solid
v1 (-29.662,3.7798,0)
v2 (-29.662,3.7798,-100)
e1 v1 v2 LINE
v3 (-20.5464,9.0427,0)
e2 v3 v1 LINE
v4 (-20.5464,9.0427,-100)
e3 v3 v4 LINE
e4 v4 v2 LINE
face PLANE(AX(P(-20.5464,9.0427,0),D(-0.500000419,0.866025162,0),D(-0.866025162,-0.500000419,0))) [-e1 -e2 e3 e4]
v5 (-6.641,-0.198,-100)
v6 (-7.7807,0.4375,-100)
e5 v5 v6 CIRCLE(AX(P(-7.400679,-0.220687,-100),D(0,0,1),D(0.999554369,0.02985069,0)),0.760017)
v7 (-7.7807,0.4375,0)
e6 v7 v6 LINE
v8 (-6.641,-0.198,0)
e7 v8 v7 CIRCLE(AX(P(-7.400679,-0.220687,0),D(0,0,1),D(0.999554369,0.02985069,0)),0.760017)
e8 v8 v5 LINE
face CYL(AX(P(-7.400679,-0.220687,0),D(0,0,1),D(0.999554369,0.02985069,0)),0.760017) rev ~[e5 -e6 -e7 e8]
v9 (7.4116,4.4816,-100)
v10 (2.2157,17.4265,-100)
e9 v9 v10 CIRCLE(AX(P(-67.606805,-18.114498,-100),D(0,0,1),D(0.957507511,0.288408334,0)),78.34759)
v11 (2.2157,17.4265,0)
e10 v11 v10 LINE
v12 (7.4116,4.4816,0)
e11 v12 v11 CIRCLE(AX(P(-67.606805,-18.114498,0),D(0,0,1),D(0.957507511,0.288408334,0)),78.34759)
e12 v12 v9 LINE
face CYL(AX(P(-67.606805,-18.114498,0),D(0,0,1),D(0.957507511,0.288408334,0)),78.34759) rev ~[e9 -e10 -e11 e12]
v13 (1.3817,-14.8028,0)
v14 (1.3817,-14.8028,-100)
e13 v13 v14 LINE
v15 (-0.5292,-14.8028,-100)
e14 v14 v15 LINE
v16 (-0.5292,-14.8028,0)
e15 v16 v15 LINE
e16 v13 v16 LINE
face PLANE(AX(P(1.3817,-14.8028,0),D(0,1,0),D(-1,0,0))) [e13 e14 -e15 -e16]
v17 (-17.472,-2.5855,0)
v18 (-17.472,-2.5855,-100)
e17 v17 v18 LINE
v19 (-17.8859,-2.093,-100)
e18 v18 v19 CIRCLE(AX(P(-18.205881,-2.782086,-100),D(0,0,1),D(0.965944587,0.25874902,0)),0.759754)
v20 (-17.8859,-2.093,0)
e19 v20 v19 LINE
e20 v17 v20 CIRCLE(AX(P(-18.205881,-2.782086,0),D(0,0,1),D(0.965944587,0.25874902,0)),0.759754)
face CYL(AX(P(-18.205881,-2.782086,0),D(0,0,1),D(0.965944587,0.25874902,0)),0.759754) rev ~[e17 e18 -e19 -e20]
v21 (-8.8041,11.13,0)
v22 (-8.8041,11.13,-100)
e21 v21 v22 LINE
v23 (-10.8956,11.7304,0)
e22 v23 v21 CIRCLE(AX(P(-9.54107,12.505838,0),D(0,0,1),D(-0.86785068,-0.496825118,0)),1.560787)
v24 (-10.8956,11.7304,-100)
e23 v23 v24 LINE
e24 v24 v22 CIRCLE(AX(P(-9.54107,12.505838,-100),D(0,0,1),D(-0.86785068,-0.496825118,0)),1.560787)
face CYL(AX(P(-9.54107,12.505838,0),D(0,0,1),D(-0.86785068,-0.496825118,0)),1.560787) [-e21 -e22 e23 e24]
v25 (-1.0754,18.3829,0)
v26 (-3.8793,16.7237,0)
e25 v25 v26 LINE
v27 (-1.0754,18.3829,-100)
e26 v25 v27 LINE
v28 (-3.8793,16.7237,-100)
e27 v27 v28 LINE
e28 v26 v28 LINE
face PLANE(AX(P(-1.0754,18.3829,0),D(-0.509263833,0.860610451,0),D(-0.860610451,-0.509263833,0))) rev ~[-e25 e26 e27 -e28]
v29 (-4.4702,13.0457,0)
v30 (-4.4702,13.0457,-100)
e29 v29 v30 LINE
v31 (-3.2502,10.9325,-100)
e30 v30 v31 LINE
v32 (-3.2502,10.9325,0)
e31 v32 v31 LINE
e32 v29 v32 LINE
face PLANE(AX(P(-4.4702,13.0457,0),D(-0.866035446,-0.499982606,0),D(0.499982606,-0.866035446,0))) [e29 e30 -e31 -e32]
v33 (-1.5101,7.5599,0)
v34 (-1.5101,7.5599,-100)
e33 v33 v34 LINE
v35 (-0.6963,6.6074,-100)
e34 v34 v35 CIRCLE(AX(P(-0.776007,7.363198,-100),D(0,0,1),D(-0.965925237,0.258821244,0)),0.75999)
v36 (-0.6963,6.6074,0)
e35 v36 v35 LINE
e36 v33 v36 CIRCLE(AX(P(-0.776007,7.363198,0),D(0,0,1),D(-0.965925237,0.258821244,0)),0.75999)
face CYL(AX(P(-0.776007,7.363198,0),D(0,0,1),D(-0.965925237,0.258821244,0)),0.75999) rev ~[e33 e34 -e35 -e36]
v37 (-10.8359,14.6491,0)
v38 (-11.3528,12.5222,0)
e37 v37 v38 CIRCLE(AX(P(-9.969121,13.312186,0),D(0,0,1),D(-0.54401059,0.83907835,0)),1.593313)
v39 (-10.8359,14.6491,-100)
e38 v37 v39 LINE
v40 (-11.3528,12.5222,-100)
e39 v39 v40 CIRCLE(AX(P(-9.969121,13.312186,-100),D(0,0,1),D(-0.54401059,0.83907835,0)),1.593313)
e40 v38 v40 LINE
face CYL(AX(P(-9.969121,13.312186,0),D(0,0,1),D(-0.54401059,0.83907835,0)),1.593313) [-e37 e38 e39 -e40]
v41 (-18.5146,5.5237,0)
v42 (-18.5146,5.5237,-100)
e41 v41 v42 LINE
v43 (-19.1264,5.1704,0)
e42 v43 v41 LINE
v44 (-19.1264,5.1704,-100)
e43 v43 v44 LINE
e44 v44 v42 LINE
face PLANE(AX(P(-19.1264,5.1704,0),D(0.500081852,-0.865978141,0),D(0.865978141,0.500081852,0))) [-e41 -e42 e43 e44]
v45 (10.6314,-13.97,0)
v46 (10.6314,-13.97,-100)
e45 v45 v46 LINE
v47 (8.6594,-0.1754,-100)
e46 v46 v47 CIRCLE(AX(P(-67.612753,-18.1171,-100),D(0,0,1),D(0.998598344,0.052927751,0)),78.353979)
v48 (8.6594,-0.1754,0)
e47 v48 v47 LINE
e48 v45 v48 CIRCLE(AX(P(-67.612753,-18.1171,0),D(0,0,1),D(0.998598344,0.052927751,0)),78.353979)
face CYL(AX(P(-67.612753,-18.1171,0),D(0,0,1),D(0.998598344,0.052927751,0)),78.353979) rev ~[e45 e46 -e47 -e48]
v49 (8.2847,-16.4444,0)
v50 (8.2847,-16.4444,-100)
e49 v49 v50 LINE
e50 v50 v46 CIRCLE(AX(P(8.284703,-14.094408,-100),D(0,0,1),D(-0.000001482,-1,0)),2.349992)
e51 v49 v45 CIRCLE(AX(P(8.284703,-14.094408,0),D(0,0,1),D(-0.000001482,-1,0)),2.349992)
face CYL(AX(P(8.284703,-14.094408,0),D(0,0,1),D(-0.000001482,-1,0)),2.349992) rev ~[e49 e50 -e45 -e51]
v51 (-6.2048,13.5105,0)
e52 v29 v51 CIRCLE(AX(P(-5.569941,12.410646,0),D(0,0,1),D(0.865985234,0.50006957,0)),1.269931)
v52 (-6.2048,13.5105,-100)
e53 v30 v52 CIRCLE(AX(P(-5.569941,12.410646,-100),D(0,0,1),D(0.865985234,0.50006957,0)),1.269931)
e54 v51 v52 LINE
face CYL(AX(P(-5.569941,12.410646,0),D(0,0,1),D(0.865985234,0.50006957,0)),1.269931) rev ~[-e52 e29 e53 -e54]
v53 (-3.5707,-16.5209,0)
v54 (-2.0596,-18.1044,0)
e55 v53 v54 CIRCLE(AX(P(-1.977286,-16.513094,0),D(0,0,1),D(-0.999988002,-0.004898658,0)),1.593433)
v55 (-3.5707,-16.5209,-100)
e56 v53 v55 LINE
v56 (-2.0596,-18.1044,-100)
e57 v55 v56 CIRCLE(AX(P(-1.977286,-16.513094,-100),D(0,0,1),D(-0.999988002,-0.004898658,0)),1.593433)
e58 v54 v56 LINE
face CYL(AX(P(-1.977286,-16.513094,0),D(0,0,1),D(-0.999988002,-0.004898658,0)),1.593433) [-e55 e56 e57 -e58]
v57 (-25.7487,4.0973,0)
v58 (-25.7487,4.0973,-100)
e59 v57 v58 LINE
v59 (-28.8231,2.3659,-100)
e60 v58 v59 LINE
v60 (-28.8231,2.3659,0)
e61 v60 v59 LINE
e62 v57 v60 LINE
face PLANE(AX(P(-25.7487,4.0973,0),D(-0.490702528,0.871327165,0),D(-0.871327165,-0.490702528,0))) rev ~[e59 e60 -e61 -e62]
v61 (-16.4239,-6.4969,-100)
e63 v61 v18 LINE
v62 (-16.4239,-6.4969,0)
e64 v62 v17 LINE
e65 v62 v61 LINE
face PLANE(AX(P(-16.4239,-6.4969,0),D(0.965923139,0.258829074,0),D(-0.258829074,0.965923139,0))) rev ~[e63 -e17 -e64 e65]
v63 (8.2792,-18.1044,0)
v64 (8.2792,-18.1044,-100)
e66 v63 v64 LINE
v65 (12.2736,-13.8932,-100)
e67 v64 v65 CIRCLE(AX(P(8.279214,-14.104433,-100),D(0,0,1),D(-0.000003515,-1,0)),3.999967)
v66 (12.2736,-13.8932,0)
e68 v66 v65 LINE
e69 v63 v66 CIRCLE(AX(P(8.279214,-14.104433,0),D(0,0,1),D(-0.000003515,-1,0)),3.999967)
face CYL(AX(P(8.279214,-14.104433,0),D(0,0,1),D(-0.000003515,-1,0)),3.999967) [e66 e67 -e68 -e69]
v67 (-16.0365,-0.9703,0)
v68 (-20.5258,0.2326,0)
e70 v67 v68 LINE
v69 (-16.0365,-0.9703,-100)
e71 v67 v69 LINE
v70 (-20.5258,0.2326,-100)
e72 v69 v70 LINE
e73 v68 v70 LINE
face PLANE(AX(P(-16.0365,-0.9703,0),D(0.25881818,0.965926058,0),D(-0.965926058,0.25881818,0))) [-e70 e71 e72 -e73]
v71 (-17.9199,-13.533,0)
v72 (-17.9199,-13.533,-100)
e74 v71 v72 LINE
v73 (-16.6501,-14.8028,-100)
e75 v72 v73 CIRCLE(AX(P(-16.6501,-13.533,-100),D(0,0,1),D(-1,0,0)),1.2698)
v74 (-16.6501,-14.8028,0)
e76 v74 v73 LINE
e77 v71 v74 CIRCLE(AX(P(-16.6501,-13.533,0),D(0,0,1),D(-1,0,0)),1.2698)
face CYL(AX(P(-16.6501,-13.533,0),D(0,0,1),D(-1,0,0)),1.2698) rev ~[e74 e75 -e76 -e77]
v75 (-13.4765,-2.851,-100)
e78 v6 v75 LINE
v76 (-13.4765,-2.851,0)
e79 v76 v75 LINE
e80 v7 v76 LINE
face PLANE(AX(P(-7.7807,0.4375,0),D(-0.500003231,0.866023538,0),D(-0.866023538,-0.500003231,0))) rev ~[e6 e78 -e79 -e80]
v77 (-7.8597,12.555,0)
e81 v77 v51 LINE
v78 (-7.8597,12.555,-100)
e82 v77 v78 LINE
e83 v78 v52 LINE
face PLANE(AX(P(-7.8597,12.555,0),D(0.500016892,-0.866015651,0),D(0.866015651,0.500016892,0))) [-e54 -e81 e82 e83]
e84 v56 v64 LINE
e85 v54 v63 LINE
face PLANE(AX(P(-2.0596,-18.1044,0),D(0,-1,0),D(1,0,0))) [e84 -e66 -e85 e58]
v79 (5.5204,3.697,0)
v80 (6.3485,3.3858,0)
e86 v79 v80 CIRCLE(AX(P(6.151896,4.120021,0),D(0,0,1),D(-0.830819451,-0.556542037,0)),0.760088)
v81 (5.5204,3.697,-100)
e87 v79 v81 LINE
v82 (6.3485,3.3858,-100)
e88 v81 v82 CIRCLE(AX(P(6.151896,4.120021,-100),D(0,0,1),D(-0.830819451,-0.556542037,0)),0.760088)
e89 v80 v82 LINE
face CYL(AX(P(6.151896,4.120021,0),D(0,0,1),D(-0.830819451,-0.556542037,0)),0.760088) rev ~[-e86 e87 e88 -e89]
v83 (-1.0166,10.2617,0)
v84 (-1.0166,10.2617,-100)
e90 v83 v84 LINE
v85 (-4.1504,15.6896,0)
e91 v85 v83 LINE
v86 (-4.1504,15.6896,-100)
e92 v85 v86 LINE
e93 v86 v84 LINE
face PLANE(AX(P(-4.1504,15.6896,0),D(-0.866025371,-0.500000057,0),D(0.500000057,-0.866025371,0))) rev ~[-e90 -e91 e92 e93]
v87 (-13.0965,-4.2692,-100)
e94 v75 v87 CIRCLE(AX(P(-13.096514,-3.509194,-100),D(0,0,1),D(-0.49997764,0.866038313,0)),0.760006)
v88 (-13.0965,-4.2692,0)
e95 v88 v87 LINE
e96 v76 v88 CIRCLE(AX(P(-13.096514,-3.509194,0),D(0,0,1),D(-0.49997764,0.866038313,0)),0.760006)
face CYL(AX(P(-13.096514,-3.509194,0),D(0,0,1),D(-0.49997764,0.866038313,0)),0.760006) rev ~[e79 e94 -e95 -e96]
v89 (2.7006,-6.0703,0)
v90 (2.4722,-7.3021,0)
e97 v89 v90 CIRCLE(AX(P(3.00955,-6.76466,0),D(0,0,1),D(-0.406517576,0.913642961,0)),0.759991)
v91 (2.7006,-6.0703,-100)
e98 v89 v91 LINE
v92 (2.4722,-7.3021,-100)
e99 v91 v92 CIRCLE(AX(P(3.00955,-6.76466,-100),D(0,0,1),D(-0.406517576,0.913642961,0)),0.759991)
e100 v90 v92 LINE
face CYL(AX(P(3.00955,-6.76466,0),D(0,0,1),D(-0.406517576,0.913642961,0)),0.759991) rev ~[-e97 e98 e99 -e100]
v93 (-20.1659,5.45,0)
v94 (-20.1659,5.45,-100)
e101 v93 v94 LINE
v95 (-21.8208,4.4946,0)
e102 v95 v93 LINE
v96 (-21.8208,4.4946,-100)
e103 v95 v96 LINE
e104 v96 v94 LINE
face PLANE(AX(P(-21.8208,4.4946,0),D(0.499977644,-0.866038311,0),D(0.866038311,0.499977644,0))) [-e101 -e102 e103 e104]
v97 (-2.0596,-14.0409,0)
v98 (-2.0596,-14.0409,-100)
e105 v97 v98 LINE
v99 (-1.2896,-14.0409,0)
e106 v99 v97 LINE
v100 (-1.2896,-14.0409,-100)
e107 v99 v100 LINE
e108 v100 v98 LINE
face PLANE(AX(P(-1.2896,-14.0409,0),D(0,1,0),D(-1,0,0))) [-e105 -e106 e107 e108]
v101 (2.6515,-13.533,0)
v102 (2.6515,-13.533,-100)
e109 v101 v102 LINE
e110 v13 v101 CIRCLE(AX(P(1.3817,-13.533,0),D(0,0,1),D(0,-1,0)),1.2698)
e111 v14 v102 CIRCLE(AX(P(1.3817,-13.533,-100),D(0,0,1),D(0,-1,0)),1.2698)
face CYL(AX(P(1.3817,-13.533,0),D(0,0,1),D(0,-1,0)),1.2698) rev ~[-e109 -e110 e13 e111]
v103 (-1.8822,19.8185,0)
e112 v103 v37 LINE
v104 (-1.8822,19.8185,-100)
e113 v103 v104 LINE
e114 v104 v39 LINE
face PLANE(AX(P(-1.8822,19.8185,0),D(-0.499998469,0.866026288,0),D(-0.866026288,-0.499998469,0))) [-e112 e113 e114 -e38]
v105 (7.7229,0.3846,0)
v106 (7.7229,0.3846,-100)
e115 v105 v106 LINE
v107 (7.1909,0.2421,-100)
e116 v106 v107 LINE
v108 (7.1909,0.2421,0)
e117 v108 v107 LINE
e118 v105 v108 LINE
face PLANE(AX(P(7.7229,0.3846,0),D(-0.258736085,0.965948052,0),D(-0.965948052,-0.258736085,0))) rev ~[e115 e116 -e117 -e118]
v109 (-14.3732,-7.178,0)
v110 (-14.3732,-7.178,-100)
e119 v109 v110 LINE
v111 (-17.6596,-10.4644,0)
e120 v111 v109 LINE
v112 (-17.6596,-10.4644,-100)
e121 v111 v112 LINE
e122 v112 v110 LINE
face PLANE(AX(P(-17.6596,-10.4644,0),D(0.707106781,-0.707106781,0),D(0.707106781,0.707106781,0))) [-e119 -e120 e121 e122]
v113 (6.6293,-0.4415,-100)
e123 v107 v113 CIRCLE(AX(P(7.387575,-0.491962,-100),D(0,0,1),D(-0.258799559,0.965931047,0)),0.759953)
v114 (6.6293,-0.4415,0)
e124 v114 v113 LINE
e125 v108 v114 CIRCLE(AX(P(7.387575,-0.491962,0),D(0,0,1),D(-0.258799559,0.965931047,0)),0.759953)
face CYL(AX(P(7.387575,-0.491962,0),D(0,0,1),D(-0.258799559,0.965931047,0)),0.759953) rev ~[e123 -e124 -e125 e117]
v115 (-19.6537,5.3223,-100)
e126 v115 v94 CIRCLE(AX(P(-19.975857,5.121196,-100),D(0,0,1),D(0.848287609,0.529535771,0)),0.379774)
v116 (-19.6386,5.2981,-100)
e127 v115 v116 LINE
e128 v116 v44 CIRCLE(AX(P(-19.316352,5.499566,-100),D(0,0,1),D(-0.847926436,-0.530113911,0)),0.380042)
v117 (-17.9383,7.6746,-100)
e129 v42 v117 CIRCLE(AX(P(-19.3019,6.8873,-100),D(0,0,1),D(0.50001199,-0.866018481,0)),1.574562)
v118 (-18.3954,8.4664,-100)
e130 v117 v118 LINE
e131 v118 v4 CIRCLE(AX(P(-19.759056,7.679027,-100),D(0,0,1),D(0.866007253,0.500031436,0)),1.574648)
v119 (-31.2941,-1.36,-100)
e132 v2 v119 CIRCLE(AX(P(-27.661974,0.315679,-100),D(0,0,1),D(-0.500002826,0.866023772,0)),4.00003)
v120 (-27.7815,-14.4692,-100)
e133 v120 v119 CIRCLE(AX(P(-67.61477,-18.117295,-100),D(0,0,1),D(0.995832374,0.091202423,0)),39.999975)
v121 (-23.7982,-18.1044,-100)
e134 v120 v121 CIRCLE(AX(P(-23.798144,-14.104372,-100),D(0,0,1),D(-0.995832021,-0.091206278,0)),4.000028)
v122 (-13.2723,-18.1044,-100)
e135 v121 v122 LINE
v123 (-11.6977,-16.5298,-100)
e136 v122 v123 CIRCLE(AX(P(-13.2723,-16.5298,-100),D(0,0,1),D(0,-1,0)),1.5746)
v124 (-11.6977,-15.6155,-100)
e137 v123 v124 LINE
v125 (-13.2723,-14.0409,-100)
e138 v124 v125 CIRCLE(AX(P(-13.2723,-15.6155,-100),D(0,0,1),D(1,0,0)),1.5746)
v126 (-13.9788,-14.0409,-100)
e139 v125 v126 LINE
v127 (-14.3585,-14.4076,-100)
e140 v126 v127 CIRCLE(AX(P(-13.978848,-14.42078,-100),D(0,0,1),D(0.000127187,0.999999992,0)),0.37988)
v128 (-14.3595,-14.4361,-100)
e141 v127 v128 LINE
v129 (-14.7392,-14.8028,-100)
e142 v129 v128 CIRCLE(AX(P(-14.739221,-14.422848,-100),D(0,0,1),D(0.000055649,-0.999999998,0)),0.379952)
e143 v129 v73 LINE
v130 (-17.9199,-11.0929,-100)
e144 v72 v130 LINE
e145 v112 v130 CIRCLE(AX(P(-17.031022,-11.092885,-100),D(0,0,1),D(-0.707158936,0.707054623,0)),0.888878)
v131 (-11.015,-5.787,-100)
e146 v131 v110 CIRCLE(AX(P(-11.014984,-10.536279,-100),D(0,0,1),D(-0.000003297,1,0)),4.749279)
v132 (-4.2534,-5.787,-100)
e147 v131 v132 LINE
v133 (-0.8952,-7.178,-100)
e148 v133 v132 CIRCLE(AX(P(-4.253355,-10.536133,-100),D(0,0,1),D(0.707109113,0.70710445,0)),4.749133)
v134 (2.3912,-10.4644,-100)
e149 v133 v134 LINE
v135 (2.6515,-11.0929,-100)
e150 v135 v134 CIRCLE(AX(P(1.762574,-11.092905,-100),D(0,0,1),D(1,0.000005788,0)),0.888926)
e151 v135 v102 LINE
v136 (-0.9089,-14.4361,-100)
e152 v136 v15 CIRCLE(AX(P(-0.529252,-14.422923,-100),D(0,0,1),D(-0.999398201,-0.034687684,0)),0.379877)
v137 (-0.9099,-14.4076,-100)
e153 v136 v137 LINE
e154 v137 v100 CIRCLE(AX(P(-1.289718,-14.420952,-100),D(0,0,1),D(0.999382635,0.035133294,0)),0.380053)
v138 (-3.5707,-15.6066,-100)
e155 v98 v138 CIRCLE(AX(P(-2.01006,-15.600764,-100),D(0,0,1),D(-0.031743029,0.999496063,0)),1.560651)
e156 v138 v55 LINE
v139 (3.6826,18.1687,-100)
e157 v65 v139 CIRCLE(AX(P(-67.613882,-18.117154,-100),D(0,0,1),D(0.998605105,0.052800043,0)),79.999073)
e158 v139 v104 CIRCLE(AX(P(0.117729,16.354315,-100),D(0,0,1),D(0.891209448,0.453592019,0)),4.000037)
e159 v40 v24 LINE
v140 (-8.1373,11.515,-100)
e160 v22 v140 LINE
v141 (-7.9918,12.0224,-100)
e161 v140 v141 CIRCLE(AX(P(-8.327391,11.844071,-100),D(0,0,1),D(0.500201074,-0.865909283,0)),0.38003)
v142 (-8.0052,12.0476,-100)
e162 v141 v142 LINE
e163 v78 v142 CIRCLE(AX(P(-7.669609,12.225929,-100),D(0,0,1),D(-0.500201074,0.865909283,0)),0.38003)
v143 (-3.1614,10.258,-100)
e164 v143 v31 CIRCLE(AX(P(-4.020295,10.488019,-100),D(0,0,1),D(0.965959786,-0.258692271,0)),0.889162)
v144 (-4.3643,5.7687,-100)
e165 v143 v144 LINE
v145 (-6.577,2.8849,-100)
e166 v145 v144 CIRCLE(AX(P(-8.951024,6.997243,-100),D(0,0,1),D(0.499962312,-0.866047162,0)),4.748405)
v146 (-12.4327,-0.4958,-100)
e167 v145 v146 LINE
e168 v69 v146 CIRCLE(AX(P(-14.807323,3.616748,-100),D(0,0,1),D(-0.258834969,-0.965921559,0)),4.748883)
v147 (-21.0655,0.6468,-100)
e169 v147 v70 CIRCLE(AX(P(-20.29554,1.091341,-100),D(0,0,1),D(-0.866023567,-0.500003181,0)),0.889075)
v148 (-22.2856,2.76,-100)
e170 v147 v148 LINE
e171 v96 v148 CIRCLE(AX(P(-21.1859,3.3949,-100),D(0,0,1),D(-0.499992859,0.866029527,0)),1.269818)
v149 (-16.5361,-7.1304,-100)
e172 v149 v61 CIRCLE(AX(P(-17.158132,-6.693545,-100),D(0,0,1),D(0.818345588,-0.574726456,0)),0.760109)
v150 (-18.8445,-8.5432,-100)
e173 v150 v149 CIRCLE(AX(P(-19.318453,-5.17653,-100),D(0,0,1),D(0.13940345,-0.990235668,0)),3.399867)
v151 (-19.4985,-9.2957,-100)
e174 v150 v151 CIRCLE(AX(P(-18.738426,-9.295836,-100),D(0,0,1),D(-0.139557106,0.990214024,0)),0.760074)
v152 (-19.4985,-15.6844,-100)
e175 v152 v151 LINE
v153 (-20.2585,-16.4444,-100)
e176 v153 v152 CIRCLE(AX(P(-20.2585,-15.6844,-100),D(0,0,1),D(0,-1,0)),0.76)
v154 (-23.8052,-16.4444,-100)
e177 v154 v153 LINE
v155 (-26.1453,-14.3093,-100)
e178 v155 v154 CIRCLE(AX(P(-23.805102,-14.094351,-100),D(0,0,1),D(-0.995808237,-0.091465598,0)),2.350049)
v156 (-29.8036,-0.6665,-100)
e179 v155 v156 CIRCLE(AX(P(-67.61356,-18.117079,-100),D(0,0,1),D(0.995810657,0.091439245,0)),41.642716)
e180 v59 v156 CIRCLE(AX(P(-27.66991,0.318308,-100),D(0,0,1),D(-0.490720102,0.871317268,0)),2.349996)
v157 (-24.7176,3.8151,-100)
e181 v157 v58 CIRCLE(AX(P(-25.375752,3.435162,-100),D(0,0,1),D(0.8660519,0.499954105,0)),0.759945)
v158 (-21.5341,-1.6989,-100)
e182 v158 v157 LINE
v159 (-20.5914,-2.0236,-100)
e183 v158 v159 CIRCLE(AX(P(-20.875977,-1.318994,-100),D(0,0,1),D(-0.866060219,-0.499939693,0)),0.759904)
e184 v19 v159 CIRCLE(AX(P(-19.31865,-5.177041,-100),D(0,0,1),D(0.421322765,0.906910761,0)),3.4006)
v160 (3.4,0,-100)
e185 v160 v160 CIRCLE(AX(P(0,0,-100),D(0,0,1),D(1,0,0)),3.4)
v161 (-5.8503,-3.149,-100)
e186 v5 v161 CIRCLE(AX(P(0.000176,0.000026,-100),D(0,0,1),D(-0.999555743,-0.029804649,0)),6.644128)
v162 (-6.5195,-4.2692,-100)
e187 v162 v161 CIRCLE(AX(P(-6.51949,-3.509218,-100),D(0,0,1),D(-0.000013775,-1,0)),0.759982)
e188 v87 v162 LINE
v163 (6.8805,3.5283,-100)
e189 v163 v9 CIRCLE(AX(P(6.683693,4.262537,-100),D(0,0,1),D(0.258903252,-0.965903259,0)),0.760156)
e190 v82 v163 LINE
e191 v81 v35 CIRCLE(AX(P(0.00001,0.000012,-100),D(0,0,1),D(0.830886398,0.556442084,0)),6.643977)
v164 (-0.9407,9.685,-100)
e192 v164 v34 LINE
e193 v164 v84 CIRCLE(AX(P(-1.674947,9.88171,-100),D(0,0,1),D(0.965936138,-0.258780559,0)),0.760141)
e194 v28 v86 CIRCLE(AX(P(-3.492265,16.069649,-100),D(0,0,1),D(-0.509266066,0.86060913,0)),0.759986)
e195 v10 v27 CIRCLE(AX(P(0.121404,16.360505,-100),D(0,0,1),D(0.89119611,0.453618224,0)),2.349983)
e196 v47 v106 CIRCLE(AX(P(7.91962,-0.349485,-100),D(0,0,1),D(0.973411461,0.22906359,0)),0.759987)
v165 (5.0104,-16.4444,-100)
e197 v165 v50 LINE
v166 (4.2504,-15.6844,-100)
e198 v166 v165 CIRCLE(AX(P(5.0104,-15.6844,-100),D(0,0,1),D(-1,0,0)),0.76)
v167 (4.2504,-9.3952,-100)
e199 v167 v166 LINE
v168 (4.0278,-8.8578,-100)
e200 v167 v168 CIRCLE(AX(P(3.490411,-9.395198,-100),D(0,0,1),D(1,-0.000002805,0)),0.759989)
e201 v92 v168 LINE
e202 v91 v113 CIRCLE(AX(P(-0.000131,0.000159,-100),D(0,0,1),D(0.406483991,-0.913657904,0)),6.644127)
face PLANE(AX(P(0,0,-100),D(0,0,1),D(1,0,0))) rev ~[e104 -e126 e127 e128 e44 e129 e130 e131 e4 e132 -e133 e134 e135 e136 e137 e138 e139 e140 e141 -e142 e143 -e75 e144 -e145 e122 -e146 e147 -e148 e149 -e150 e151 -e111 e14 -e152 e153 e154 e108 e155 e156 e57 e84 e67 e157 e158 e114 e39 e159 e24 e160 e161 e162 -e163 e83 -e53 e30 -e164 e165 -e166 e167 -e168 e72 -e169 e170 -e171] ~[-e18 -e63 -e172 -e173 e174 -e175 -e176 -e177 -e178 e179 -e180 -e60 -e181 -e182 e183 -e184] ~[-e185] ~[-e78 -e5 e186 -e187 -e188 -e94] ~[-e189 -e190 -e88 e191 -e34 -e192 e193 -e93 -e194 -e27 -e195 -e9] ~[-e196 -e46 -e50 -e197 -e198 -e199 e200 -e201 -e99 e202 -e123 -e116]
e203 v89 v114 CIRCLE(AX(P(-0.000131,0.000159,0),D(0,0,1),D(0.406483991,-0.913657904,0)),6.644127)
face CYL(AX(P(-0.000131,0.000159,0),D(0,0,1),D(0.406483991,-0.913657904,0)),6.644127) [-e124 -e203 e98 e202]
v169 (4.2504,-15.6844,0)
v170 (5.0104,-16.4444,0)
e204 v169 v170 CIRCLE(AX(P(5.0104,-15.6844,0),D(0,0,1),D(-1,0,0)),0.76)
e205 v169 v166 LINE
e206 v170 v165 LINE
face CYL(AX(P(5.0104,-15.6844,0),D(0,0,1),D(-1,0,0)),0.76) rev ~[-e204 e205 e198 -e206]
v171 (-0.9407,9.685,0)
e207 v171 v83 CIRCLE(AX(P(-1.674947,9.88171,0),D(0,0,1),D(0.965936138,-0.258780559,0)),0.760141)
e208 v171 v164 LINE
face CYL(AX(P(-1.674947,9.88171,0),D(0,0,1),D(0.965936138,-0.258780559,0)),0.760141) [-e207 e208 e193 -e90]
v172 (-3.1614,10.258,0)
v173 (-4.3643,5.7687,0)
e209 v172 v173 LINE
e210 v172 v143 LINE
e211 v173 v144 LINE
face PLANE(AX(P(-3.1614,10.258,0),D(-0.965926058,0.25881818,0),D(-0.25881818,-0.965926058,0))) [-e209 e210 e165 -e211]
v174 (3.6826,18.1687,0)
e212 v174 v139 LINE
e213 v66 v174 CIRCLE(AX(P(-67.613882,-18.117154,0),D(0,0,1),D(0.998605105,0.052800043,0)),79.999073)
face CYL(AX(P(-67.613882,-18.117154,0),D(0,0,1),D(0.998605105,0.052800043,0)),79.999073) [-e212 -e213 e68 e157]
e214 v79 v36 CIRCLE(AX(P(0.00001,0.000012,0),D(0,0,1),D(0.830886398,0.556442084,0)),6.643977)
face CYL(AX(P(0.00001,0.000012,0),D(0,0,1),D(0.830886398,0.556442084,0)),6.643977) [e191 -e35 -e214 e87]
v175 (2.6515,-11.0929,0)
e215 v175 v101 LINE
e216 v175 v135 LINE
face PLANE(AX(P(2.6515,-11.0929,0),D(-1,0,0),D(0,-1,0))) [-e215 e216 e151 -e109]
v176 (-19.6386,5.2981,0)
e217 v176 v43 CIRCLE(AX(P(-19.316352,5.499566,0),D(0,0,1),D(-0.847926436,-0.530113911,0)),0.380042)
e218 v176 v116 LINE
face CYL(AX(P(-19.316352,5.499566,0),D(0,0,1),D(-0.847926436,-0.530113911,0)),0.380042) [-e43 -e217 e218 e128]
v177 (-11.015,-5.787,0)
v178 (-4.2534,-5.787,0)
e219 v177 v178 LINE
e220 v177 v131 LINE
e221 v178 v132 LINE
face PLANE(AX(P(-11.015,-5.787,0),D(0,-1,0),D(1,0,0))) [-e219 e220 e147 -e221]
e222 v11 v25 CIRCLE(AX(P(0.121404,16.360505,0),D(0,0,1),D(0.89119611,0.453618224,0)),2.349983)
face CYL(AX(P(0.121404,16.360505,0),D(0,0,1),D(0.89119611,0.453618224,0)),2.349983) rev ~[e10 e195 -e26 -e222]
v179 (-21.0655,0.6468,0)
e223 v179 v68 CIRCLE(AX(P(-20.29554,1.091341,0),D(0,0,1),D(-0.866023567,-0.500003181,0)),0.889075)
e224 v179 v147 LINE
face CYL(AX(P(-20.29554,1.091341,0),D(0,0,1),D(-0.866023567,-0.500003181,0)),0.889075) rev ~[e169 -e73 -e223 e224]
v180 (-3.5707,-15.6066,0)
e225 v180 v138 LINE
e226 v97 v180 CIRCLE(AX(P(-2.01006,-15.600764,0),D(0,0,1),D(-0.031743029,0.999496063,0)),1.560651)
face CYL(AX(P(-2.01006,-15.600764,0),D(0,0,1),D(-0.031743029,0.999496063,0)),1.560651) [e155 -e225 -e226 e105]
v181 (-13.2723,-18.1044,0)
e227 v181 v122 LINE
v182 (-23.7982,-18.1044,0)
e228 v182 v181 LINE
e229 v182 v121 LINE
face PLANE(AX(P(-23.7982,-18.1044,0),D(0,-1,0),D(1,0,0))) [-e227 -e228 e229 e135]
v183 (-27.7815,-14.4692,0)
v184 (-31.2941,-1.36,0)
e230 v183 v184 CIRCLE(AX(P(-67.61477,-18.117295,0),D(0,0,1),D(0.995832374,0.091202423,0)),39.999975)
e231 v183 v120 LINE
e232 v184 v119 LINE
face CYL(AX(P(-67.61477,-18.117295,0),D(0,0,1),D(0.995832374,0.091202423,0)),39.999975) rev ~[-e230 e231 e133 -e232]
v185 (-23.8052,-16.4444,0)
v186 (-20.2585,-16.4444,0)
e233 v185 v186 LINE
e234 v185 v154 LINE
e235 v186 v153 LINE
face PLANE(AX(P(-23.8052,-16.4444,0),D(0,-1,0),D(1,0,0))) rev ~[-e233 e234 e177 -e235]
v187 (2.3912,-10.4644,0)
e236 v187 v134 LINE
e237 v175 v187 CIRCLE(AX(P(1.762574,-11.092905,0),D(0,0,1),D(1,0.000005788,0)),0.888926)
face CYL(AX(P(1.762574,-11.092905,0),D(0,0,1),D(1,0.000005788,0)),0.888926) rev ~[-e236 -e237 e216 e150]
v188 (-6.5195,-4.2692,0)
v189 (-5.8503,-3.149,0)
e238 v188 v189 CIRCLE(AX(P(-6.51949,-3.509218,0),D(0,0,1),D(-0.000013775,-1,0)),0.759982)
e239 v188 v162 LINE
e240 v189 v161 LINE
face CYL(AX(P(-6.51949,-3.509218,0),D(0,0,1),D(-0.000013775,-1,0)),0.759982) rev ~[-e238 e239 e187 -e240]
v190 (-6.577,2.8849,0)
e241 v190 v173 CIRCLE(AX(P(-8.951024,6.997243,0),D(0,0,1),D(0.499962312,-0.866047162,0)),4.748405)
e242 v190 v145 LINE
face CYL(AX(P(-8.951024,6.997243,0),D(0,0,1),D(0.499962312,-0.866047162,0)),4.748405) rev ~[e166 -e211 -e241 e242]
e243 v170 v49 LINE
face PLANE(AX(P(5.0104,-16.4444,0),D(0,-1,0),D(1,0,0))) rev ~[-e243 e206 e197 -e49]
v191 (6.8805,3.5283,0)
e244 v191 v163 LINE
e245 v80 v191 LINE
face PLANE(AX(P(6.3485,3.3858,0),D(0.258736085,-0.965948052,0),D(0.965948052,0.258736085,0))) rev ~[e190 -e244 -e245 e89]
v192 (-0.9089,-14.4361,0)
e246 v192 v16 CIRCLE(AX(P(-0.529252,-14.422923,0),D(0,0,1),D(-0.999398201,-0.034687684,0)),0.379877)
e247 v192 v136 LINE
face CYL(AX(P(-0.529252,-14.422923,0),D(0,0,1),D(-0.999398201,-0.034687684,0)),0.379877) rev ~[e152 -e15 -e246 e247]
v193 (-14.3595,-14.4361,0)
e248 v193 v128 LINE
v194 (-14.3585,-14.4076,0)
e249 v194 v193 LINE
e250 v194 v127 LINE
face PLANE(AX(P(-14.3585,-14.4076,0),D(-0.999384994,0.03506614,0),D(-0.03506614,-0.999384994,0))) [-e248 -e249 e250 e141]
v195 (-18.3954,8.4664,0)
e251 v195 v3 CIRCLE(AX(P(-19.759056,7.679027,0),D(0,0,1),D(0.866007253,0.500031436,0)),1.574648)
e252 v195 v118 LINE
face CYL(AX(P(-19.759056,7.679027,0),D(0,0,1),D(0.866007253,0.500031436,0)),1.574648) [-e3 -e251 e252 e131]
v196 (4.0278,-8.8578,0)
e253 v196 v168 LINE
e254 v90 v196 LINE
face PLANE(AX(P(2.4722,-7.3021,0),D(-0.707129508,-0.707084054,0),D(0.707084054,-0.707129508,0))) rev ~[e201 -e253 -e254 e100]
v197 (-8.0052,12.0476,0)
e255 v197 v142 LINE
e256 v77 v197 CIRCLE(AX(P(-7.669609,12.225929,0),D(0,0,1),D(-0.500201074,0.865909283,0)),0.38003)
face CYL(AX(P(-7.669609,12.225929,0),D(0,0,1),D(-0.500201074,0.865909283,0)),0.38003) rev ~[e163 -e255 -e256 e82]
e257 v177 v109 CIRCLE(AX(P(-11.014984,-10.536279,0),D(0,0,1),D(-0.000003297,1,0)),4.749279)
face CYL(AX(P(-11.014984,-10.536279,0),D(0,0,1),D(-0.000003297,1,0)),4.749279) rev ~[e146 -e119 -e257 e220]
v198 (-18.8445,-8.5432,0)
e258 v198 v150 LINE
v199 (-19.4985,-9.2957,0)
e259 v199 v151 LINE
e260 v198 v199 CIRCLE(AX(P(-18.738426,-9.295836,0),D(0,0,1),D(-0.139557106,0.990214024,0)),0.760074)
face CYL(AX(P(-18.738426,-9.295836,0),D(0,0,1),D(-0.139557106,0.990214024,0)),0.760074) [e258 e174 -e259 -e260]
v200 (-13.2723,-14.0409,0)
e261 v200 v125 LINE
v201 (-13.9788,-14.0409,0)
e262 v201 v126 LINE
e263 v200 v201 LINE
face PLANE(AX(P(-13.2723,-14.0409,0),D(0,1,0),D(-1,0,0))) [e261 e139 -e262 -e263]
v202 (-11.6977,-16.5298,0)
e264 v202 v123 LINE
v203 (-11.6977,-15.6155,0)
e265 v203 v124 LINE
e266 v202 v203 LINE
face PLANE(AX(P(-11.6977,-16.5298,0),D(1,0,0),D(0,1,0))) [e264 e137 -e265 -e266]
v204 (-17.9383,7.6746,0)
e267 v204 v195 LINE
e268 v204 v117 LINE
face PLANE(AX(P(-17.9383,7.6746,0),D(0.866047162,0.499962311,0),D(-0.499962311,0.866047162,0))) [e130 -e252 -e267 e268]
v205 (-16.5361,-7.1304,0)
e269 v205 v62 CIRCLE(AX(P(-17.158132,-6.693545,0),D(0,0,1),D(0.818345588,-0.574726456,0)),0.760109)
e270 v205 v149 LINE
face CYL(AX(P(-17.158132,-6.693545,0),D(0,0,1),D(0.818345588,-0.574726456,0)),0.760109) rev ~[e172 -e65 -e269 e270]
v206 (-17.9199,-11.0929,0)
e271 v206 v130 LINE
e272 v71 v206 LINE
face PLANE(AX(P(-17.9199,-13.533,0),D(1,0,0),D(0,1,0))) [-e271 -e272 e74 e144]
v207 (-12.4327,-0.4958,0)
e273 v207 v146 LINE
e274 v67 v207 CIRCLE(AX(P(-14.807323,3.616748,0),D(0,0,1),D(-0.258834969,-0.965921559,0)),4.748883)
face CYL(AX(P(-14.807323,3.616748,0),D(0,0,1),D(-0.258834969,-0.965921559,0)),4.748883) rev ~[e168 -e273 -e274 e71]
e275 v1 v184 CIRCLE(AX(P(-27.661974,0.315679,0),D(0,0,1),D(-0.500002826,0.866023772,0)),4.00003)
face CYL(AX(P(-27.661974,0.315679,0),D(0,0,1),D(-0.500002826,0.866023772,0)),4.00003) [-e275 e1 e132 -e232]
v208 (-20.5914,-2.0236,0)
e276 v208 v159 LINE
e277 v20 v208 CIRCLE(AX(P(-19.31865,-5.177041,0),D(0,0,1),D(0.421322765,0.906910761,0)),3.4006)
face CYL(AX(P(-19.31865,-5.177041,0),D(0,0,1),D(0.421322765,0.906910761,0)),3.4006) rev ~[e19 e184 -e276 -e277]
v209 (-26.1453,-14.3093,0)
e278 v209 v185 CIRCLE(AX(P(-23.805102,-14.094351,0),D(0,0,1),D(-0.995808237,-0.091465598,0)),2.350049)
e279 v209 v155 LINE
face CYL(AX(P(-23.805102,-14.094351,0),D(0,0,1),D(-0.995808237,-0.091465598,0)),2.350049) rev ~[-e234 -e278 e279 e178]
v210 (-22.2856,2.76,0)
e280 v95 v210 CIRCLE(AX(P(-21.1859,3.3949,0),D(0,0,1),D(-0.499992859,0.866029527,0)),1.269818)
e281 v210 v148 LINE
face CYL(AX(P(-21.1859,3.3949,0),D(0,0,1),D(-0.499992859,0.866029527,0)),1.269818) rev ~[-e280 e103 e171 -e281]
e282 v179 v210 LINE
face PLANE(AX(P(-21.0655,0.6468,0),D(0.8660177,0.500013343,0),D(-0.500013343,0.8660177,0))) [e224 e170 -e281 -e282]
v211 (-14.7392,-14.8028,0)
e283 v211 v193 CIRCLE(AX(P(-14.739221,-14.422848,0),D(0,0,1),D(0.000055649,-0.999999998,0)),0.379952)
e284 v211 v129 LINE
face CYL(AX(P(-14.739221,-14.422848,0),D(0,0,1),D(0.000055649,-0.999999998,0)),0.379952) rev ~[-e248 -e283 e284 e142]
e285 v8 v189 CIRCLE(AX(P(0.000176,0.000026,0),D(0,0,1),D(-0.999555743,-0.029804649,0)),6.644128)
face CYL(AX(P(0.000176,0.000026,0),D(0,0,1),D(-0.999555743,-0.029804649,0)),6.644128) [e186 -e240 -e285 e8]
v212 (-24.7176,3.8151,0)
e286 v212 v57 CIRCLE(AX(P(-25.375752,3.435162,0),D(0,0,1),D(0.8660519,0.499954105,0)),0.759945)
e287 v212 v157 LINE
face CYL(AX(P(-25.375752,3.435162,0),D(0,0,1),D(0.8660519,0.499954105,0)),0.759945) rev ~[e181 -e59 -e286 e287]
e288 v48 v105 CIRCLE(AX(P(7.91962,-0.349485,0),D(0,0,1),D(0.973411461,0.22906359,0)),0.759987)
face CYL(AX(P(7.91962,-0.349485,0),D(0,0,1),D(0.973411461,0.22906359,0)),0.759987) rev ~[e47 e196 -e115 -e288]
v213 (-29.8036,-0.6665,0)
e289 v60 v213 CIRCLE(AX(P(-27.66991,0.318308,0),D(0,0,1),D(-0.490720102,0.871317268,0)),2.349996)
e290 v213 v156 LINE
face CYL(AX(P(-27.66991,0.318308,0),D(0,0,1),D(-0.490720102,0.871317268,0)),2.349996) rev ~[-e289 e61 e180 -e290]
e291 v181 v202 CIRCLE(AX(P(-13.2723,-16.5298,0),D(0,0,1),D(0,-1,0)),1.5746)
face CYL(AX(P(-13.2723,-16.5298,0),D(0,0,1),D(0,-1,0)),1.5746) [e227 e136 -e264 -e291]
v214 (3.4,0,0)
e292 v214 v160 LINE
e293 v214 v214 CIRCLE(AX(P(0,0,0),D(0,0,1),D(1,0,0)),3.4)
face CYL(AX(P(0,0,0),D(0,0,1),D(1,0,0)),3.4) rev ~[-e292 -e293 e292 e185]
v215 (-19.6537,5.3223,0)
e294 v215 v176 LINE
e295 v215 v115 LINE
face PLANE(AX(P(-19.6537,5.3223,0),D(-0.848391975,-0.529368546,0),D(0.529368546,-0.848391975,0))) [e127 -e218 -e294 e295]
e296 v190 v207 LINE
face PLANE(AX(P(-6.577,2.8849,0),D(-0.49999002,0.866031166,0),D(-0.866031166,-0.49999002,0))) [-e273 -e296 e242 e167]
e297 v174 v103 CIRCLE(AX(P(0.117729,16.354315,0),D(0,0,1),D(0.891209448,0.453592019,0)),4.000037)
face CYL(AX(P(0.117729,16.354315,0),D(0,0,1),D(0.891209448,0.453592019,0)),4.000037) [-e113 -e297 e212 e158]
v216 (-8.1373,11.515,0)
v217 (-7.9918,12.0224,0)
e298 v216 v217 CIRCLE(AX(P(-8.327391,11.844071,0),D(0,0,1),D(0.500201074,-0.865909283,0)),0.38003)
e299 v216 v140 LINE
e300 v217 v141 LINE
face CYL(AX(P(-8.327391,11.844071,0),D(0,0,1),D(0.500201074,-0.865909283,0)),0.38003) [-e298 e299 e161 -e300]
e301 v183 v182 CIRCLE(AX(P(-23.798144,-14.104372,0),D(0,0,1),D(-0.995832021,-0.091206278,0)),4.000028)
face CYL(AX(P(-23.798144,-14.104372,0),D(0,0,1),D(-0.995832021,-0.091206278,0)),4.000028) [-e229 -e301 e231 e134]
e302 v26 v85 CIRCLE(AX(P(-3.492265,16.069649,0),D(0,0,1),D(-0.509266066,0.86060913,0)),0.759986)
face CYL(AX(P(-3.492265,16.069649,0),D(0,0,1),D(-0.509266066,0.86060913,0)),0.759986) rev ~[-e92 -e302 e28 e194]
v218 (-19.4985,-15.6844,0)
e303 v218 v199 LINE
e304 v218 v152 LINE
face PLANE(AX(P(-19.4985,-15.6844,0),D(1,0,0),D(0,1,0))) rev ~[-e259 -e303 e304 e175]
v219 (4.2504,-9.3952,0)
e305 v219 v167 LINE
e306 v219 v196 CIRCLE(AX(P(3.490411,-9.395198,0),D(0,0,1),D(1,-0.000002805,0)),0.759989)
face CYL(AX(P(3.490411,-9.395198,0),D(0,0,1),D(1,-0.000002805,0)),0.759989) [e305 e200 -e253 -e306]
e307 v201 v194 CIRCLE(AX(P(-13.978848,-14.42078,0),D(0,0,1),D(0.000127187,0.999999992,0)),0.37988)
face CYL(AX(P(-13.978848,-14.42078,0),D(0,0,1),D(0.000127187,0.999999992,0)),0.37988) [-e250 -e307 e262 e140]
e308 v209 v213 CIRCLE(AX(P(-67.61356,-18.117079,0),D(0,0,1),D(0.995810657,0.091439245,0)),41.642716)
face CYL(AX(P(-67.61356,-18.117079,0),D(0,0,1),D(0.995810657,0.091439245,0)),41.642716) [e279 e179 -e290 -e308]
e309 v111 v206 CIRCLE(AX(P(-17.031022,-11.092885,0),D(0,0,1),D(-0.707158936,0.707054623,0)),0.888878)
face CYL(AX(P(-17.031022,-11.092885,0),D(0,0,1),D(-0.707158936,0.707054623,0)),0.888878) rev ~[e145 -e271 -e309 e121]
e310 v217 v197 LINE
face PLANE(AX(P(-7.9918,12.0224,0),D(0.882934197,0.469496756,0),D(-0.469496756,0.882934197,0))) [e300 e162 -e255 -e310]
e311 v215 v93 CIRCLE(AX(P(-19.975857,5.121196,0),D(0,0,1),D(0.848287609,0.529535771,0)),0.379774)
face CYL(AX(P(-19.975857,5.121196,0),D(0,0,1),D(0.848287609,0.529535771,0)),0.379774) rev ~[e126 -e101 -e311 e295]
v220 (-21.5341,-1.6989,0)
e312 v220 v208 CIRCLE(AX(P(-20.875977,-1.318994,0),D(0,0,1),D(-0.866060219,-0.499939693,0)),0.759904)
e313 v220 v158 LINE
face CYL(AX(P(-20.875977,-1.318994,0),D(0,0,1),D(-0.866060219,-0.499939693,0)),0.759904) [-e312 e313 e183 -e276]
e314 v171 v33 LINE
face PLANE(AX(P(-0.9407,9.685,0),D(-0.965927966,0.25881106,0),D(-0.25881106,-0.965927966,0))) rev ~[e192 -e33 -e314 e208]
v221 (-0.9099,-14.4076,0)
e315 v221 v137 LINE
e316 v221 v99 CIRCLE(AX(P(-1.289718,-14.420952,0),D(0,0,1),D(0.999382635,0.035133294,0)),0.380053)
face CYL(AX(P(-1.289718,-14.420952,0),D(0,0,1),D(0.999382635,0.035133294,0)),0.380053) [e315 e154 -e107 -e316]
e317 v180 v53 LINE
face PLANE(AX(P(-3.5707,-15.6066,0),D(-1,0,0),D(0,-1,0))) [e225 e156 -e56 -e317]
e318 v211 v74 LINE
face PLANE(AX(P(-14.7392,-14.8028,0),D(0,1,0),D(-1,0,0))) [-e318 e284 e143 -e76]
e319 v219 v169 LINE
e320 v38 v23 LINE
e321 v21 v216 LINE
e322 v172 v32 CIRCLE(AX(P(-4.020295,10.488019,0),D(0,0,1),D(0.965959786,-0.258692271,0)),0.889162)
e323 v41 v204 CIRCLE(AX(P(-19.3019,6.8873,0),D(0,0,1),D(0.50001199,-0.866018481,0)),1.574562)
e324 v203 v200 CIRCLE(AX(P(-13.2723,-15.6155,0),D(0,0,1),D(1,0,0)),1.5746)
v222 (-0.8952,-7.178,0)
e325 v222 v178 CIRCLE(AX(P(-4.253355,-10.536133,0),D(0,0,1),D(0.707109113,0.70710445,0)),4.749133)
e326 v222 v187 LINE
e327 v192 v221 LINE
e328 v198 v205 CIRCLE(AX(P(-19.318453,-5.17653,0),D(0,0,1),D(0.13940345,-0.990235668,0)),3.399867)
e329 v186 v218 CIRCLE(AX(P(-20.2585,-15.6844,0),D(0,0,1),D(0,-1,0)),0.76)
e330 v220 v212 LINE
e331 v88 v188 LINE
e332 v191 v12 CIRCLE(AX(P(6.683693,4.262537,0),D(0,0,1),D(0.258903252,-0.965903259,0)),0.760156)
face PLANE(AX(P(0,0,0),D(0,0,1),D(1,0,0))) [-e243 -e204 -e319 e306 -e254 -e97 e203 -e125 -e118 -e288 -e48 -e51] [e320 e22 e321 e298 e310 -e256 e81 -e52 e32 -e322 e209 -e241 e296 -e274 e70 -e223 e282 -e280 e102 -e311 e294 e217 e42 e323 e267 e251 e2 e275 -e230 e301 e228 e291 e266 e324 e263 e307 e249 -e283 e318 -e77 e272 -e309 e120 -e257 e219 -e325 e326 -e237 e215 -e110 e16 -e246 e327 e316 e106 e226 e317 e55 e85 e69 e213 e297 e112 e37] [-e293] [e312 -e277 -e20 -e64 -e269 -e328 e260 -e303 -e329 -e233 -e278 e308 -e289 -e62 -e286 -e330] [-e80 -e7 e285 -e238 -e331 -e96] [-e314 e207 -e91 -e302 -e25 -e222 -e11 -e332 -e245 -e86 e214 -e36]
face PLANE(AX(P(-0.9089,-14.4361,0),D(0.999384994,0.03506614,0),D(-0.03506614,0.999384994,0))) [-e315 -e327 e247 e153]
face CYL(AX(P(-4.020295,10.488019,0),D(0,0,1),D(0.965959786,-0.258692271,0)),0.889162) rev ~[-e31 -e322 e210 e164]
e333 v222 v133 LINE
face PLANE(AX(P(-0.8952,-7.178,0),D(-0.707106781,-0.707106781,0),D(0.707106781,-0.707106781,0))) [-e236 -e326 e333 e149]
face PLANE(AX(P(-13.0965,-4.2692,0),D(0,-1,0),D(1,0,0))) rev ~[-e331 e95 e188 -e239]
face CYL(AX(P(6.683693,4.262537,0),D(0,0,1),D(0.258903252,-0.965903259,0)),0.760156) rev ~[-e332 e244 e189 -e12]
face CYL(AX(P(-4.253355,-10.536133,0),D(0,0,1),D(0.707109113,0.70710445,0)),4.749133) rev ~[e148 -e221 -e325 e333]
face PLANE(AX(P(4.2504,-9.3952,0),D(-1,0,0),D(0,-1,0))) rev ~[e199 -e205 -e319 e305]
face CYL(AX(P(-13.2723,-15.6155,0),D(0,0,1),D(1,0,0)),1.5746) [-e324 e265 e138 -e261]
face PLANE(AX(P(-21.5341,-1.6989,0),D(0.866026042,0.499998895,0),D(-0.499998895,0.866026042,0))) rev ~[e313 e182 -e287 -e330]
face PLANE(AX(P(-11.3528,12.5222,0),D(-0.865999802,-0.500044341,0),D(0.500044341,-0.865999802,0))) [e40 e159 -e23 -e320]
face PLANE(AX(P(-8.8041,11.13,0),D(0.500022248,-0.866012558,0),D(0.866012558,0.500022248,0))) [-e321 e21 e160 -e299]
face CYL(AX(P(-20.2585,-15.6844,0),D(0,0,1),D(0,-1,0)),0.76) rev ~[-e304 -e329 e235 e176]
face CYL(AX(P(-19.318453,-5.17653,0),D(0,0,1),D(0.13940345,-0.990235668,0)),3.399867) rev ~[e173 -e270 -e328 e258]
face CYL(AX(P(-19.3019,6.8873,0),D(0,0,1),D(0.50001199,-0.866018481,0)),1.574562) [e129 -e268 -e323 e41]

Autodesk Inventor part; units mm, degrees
ref_plane "YZ Plane" through (0, 0, 0) normal (1, 0, 0) x (0, 1, 0)
ref_plane "XZ Plane" through (0, 0, 0) normal (0, 1, 0) x (-1, 0, 0)
ref_plane "XY Plane" through (0, 0, 0) normal (0, 0, 1) x (1, 0, 0)
sketch "Sketch1" plane through (0, 0, 0) normal (0, 0, 1) x (1, 0, 0)
  circle A0 centre (0, 0) radius 3.4
  arc A1 (-6.641, -0.198) -> (-5.8503, -3.149) centre (0, 0) ccw
  arc A2 (-6.5195, -4.2692) -> (-5.8503, -3.149) centre (-6.5195, -3.5092) ccw
  line L0 (-13.0965, -4.2692) -> (-6.5195, -4.2692)
  arc A3 (-13.4765, -2.851) -> (-13.0965, -4.2692) centre (-13.0965, -3.5092) ccw
  line L1 (-7.7807, 0.4375) -> (-13.4765, -2.851)
  arc A4 (-6.641, -0.198) -> (-7.7807, 0.4375) centre (-7.4007, -0.2207) ccw
  arc A5 (-1.5101, 7.5599) -> (-0.6963, 6.6074) centre (-0.776, 7.3632) ccw
  line L2 (-0.9407, 9.685) -> (-1.5101, 7.5599)
  arc A6 (-0.9407, 9.685) -> (-1.0166, 10.2617) centre (-1.6748, 9.8817) ccw
  line L3 (-4.1504, 15.6896) -> (-1.0166, 10.2617)
  arc A7 (-3.8793, 16.7237) -> (-4.1504, 15.6896) centre (-3.4922, 16.0696) ccw
  line L4 (-1.0754, 18.3829) -> (-3.8793, 16.7237)
  arc A8 (2.2157, 17.4265) -> (-1.0754, 18.3829) centre (0.1214, 16.3605) ccw
  arc A9 (7.4116, 4.4816) -> (2.2157, 17.4265) centre (-67.6148, -18.1173) ccw
  arc A10 (6.8805, 3.5283) -> (7.4116, 4.4816) centre (6.6838, 4.2624) ccw
  line L5 (6.3485, 3.3858) -> (6.8805, 3.5283)
  arc A11 (5.5204, 3.697) -> (6.3485, 3.3858) centre (6.1518, 4.1199) ccw
  arc A12 (5.5204, 3.697) -> (-0.6963, 6.6074) centre (0, 0) ccw
  arc A13 (2.7006, -6.0703) -> (6.6293, -0.4415) centre (0, 0) ccw
  arc A14 (7.1909, 0.2421) -> (6.6293, -0.4415) centre (7.3876, -0.492) ccw
  line L6 (7.7229, 0.3846) -> (7.1909, 0.2421)
  arc A15 (8.6594, -0.1754) -> (7.7229, 0.3846) centre (7.9196, -0.3495) ccw
  arc A16 (10.6314, -13.97) -> (8.6594, -0.1754) centre (-67.6148, -18.1173) ccw
  line L7 (4.2504, -9.3952) -> (4.2504, -15.6844)
  arc A17 (4.2504, -9.3952) -> (4.0278, -8.8578) centre (3.4904, -9.3952) ccw
  line L8 (2.4722, -7.3021) -> (4.0278, -8.8578)
  arc A18 (2.7006, -6.0703) -> (2.4722, -7.3021) centre (3.0096, -6.7647) ccw
  arc A19 (-17.472, -2.5855) -> (-17.8859, -2.093) centre (-18.2061, -2.7822) ccw
  line L9 (-16.4239, -6.4969) -> (-17.472, -2.5855)
  arc A20 (-16.5361, -7.1304) -> (-16.4239, -6.4969) centre (-17.158, -6.6936) ccw
  arc A21 (-18.8445, -8.5432) -> (-16.5361, -7.1304) centre (-19.3185, -5.1764) ccw
  arc A22 (-18.8445, -8.5432) -> (-19.4985, -9.2957) centre (-18.7385, -9.2957) ccw
  line L10 (-19.4985, -15.6844) -> (-19.4985, -9.2957)
  arc A23 (-26.1453, -14.3093) -> (-29.8036, -0.6665) centre (-67.6148, -18.1173) ccw
  arc A24 (-28.8231, 2.3659) -> (-29.8036, -0.6665) centre (-27.6699, 0.3183) ccw
  line L11 (-25.7487, 4.0973) -> (-28.8231, 2.3659)
  arc A25 (-24.7176, 3.8151) -> (-25.7487, 4.0973) centre (-25.3758, 3.4351) ccw
  line L12 (-21.5341, -1.6989) -> (-24.7176, 3.8151)
  arc A26 (-21.5341, -1.6989) -> (-20.5914, -2.0236) centre (-20.8759, -1.3189) ccw
  arc A27 (-17.8859, -2.093) -> (-20.5914, -2.0236) centre (-19.3185, -5.1764) ccw
  arc A28 (-3.5707, -16.5209) -> (-2.0596, -18.1044) centre (-1.9773, -16.5131) ccw
  line L13 (-2.0596, -18.1044) -> (8.2792, -18.1044)
  arc A29 (8.2792, -18.1044) -> (12.2736, -13.8932) centre (8.2792, -14.1044) ccw
  arc A30 (12.2736, -13.8932) -> (3.6826, 18.1687) centre (-67.6148, -18.1173) ccw
  arc A31 (3.6826, 18.1687) -> (-1.8822, 19.8185) centre (0.1178, 16.3544) ccw
  line L14 (-1.8822, 19.8185) -> (-10.8359, 14.6491)
  arc A32 (-10.8359, 14.6491) -> (-11.3528, 12.5222) centre (-9.969, 13.3121) ccw
  line L15 (-11.3528, 12.5222) -> (-10.8956, 11.7304)
  arc A33 (-10.8956, 11.7304) -> (-8.8041, 11.13) centre (-9.5411, 12.5058) ccw
  line L16 (-8.8041, 11.13) -> (-8.1373, 11.515)
  arc A34 (-8.1373, 11.515) -> (-7.9918, 12.0224) centre (-8.3273, 11.844) ccw
  line L17 (-7.9918, 12.0224) -> (-8.0052, 12.0476)
  arc A35 (-7.8597, 12.555) -> (-8.0052, 12.0476) centre (-7.6697, 12.226) ccw
  line L18 (-7.8597, 12.555) -> (-6.2048, 13.5105)
  arc A36 (-4.4702, 13.0457) -> (-6.2048, 13.5105) centre (-5.5699, 12.4107) ccw
  line L19 (-4.4702, 13.0457) -> (-3.2502, 10.9325)
  arc A37 (-3.1614, 10.258) -> (-3.2502, 10.9325) centre (-4.02, 10.488) ccw
  line L20 (-3.1614, 10.258) -> (-4.3643, 5.7687)
  arc A38 (-6.577, 2.8849) -> (-4.3643, 5.7687) centre (-8.9516, 6.9979) ccw
  line L21 (-6.577, 2.8849) -> (-12.4327, -0.4958)
  arc A39 (-16.0365, -0.9703) -> (-12.4327, -0.4958) centre (-14.8073, 3.6171) ccw
  line L22 (-16.0365, -0.9703) -> (-20.5258, 0.2326)
  arc A40 (-21.0655, 0.6468) -> (-20.5258, 0.2326) centre (-20.2957, 1.0912) ccw
  line L23 (-21.0655, 0.6468) -> (-22.2856, 2.76)
  arc A41 (-21.8208, 4.4946) -> (-22.2856, 2.76) centre (-21.1859, 3.3949) ccw
  line L24 (-21.8208, 4.4946) -> (-20.1659, 5.45)
  arc A42 (-19.6537, 5.3223) -> (-20.1659, 5.45) centre (-19.976, 5.121) ccw
  line L25 (-19.6537, 5.3223) -> (-19.6386, 5.2981)
  arc A43 (-19.6386, 5.2981) -> (-19.1264, 5.1704) centre (-19.3164, 5.4995) ccw
  line L26 (-19.1264, 5.1704) -> (-18.5146, 5.5237)
  arc A44 (-18.5146, 5.5237) -> (-17.9383, 7.6746) centre (-19.3019, 6.8873) ccw
  line L27 (-17.9383, 7.6746) -> (-18.3954, 8.4664)
  arc A45 (-18.3954, 8.4664) -> (-20.5464, 9.0427) centre (-19.759, 7.6791) ccw
  line L28 (-20.5464, 9.0427) -> (-29.662, 3.7798)
  arc A46 (-29.662, 3.7798) -> (-31.2941, -1.36) centre (-27.662, 0.3157) ccw
  arc A47 (-27.7815, -14.4692) -> (-31.2941, -1.36) centre (-67.6148, -18.1173) ccw
  arc A48 (-27.7815, -14.4692) -> (-23.7982, -18.1044) centre (-23.7982, -14.1044) ccw
  line L29 (-23.7982, -18.1044) -> (-13.2723, -18.1044)
  arc A49 (-13.2723, -18.1044) -> (-11.6977, -16.5298) centre (-13.2723, -16.5298) ccw
  line L30 (-11.6977, -16.5298) -> (-11.6977, -15.6155)
  arc A50 (-11.6977, -15.6155) -> (-13.2723, -14.0409) centre (-13.2723, -15.6155) ccw
  line L31 (-13.2723, -14.0409) -> (-13.9788, -14.0409)
  arc A51 (-13.9788, -14.0409) -> (-14.3585, -14.4076) centre (-13.9788, -14.4209) ccw
  line L32 (-14.3585, -14.4076) -> (-14.3595, -14.4361)
  arc A52 (-14.7392, -14.8028) -> (-14.3595, -14.4361) centre (-14.7392, -14.4229) ccw
  line L33 (-14.7392, -14.8028) -> (-16.6501, -14.8028)
  arc A53 (-17.9199, -13.533) -> (-16.6501, -14.8028) centre (-16.6501, -13.533) ccw
  line L34 (-17.9199, -13.533) -> (-17.9199, -11.0929)
  arc A54 (-17.6596, -10.4644) -> (-17.9199, -11.0929) centre (-17.031, -11.0929) ccw
  line L35 (-17.6596, -10.4644) -> (-14.3732, -7.178)
  arc A55 (-11.015, -5.787) -> (-14.3732, -7.178) centre (-11.015, -10.5362) ccw
  line L36 (-11.015, -5.787) -> (-4.2534, -5.787)
  arc A56 (-0.8952, -7.178) -> (-4.2534, -5.787) centre (-4.2534, -10.5362) ccw
  line L37 (-0.8952, -7.178) -> (2.3912, -10.4644)
  arc A57 (2.6515, -11.0929) -> (2.3912, -10.4644) centre (1.7626, -11.0929) ccw
  line L38 (2.6515, -11.0929) -> (2.6515, -13.533)
  arc A58 (1.3817, -14.8028) -> (2.6515, -13.533) centre (1.3817, -13.533) ccw
  line L39 (1.3817, -14.8028) -> (-0.5292, -14.8028)
  arc A59 (-0.9089, -14.4361) -> (-0.5292, -14.8028) centre (-0.5292, -14.4229) ccw
  line L40 (-0.9089, -14.4361) -> (-0.9099, -14.4076)
  arc A60 (-0.9099, -14.4076) -> (-1.2896, -14.0409) centre (-1.2896, -14.4209) ccw
  line L41 (-1.2896, -14.0409) -> (-2.0596, -14.0409)
  arc A61 (-2.0596, -14.0409) -> (-3.5707, -15.6066) centre (-2.01, -15.6009) ccw
  line L42 (-3.5707, -15.6066) -> (-3.5707, -16.5209)
  line L43 (5.0104, -16.4444) -> (8.2847, -16.4444)
  line L44 (-23.8052, -16.4444) -> (-20.2585, -16.4444)
  arc A62 (-26.1453, -14.3093) -> (-23.8052, -16.4444) centre (-23.8052, -14.0944) ccw
  arc A63 (8.2847, -16.4444) -> (10.6314, -13.97) centre (8.2847, -14.0944) ccw
  arc A64 (-20.2585, -16.4444) -> (-19.4985, -15.6844) centre (-20.2585, -15.6844) ccw
  arc A65 (4.2504, -15.6844) -> (5.0104, -16.4444) centre (5.0104, -15.6844) ccw
  point P0 (0, 0)
extrude "Extrusion1" add sketch "Sketch1" against normal blind 100
properties part number "40-4093"
